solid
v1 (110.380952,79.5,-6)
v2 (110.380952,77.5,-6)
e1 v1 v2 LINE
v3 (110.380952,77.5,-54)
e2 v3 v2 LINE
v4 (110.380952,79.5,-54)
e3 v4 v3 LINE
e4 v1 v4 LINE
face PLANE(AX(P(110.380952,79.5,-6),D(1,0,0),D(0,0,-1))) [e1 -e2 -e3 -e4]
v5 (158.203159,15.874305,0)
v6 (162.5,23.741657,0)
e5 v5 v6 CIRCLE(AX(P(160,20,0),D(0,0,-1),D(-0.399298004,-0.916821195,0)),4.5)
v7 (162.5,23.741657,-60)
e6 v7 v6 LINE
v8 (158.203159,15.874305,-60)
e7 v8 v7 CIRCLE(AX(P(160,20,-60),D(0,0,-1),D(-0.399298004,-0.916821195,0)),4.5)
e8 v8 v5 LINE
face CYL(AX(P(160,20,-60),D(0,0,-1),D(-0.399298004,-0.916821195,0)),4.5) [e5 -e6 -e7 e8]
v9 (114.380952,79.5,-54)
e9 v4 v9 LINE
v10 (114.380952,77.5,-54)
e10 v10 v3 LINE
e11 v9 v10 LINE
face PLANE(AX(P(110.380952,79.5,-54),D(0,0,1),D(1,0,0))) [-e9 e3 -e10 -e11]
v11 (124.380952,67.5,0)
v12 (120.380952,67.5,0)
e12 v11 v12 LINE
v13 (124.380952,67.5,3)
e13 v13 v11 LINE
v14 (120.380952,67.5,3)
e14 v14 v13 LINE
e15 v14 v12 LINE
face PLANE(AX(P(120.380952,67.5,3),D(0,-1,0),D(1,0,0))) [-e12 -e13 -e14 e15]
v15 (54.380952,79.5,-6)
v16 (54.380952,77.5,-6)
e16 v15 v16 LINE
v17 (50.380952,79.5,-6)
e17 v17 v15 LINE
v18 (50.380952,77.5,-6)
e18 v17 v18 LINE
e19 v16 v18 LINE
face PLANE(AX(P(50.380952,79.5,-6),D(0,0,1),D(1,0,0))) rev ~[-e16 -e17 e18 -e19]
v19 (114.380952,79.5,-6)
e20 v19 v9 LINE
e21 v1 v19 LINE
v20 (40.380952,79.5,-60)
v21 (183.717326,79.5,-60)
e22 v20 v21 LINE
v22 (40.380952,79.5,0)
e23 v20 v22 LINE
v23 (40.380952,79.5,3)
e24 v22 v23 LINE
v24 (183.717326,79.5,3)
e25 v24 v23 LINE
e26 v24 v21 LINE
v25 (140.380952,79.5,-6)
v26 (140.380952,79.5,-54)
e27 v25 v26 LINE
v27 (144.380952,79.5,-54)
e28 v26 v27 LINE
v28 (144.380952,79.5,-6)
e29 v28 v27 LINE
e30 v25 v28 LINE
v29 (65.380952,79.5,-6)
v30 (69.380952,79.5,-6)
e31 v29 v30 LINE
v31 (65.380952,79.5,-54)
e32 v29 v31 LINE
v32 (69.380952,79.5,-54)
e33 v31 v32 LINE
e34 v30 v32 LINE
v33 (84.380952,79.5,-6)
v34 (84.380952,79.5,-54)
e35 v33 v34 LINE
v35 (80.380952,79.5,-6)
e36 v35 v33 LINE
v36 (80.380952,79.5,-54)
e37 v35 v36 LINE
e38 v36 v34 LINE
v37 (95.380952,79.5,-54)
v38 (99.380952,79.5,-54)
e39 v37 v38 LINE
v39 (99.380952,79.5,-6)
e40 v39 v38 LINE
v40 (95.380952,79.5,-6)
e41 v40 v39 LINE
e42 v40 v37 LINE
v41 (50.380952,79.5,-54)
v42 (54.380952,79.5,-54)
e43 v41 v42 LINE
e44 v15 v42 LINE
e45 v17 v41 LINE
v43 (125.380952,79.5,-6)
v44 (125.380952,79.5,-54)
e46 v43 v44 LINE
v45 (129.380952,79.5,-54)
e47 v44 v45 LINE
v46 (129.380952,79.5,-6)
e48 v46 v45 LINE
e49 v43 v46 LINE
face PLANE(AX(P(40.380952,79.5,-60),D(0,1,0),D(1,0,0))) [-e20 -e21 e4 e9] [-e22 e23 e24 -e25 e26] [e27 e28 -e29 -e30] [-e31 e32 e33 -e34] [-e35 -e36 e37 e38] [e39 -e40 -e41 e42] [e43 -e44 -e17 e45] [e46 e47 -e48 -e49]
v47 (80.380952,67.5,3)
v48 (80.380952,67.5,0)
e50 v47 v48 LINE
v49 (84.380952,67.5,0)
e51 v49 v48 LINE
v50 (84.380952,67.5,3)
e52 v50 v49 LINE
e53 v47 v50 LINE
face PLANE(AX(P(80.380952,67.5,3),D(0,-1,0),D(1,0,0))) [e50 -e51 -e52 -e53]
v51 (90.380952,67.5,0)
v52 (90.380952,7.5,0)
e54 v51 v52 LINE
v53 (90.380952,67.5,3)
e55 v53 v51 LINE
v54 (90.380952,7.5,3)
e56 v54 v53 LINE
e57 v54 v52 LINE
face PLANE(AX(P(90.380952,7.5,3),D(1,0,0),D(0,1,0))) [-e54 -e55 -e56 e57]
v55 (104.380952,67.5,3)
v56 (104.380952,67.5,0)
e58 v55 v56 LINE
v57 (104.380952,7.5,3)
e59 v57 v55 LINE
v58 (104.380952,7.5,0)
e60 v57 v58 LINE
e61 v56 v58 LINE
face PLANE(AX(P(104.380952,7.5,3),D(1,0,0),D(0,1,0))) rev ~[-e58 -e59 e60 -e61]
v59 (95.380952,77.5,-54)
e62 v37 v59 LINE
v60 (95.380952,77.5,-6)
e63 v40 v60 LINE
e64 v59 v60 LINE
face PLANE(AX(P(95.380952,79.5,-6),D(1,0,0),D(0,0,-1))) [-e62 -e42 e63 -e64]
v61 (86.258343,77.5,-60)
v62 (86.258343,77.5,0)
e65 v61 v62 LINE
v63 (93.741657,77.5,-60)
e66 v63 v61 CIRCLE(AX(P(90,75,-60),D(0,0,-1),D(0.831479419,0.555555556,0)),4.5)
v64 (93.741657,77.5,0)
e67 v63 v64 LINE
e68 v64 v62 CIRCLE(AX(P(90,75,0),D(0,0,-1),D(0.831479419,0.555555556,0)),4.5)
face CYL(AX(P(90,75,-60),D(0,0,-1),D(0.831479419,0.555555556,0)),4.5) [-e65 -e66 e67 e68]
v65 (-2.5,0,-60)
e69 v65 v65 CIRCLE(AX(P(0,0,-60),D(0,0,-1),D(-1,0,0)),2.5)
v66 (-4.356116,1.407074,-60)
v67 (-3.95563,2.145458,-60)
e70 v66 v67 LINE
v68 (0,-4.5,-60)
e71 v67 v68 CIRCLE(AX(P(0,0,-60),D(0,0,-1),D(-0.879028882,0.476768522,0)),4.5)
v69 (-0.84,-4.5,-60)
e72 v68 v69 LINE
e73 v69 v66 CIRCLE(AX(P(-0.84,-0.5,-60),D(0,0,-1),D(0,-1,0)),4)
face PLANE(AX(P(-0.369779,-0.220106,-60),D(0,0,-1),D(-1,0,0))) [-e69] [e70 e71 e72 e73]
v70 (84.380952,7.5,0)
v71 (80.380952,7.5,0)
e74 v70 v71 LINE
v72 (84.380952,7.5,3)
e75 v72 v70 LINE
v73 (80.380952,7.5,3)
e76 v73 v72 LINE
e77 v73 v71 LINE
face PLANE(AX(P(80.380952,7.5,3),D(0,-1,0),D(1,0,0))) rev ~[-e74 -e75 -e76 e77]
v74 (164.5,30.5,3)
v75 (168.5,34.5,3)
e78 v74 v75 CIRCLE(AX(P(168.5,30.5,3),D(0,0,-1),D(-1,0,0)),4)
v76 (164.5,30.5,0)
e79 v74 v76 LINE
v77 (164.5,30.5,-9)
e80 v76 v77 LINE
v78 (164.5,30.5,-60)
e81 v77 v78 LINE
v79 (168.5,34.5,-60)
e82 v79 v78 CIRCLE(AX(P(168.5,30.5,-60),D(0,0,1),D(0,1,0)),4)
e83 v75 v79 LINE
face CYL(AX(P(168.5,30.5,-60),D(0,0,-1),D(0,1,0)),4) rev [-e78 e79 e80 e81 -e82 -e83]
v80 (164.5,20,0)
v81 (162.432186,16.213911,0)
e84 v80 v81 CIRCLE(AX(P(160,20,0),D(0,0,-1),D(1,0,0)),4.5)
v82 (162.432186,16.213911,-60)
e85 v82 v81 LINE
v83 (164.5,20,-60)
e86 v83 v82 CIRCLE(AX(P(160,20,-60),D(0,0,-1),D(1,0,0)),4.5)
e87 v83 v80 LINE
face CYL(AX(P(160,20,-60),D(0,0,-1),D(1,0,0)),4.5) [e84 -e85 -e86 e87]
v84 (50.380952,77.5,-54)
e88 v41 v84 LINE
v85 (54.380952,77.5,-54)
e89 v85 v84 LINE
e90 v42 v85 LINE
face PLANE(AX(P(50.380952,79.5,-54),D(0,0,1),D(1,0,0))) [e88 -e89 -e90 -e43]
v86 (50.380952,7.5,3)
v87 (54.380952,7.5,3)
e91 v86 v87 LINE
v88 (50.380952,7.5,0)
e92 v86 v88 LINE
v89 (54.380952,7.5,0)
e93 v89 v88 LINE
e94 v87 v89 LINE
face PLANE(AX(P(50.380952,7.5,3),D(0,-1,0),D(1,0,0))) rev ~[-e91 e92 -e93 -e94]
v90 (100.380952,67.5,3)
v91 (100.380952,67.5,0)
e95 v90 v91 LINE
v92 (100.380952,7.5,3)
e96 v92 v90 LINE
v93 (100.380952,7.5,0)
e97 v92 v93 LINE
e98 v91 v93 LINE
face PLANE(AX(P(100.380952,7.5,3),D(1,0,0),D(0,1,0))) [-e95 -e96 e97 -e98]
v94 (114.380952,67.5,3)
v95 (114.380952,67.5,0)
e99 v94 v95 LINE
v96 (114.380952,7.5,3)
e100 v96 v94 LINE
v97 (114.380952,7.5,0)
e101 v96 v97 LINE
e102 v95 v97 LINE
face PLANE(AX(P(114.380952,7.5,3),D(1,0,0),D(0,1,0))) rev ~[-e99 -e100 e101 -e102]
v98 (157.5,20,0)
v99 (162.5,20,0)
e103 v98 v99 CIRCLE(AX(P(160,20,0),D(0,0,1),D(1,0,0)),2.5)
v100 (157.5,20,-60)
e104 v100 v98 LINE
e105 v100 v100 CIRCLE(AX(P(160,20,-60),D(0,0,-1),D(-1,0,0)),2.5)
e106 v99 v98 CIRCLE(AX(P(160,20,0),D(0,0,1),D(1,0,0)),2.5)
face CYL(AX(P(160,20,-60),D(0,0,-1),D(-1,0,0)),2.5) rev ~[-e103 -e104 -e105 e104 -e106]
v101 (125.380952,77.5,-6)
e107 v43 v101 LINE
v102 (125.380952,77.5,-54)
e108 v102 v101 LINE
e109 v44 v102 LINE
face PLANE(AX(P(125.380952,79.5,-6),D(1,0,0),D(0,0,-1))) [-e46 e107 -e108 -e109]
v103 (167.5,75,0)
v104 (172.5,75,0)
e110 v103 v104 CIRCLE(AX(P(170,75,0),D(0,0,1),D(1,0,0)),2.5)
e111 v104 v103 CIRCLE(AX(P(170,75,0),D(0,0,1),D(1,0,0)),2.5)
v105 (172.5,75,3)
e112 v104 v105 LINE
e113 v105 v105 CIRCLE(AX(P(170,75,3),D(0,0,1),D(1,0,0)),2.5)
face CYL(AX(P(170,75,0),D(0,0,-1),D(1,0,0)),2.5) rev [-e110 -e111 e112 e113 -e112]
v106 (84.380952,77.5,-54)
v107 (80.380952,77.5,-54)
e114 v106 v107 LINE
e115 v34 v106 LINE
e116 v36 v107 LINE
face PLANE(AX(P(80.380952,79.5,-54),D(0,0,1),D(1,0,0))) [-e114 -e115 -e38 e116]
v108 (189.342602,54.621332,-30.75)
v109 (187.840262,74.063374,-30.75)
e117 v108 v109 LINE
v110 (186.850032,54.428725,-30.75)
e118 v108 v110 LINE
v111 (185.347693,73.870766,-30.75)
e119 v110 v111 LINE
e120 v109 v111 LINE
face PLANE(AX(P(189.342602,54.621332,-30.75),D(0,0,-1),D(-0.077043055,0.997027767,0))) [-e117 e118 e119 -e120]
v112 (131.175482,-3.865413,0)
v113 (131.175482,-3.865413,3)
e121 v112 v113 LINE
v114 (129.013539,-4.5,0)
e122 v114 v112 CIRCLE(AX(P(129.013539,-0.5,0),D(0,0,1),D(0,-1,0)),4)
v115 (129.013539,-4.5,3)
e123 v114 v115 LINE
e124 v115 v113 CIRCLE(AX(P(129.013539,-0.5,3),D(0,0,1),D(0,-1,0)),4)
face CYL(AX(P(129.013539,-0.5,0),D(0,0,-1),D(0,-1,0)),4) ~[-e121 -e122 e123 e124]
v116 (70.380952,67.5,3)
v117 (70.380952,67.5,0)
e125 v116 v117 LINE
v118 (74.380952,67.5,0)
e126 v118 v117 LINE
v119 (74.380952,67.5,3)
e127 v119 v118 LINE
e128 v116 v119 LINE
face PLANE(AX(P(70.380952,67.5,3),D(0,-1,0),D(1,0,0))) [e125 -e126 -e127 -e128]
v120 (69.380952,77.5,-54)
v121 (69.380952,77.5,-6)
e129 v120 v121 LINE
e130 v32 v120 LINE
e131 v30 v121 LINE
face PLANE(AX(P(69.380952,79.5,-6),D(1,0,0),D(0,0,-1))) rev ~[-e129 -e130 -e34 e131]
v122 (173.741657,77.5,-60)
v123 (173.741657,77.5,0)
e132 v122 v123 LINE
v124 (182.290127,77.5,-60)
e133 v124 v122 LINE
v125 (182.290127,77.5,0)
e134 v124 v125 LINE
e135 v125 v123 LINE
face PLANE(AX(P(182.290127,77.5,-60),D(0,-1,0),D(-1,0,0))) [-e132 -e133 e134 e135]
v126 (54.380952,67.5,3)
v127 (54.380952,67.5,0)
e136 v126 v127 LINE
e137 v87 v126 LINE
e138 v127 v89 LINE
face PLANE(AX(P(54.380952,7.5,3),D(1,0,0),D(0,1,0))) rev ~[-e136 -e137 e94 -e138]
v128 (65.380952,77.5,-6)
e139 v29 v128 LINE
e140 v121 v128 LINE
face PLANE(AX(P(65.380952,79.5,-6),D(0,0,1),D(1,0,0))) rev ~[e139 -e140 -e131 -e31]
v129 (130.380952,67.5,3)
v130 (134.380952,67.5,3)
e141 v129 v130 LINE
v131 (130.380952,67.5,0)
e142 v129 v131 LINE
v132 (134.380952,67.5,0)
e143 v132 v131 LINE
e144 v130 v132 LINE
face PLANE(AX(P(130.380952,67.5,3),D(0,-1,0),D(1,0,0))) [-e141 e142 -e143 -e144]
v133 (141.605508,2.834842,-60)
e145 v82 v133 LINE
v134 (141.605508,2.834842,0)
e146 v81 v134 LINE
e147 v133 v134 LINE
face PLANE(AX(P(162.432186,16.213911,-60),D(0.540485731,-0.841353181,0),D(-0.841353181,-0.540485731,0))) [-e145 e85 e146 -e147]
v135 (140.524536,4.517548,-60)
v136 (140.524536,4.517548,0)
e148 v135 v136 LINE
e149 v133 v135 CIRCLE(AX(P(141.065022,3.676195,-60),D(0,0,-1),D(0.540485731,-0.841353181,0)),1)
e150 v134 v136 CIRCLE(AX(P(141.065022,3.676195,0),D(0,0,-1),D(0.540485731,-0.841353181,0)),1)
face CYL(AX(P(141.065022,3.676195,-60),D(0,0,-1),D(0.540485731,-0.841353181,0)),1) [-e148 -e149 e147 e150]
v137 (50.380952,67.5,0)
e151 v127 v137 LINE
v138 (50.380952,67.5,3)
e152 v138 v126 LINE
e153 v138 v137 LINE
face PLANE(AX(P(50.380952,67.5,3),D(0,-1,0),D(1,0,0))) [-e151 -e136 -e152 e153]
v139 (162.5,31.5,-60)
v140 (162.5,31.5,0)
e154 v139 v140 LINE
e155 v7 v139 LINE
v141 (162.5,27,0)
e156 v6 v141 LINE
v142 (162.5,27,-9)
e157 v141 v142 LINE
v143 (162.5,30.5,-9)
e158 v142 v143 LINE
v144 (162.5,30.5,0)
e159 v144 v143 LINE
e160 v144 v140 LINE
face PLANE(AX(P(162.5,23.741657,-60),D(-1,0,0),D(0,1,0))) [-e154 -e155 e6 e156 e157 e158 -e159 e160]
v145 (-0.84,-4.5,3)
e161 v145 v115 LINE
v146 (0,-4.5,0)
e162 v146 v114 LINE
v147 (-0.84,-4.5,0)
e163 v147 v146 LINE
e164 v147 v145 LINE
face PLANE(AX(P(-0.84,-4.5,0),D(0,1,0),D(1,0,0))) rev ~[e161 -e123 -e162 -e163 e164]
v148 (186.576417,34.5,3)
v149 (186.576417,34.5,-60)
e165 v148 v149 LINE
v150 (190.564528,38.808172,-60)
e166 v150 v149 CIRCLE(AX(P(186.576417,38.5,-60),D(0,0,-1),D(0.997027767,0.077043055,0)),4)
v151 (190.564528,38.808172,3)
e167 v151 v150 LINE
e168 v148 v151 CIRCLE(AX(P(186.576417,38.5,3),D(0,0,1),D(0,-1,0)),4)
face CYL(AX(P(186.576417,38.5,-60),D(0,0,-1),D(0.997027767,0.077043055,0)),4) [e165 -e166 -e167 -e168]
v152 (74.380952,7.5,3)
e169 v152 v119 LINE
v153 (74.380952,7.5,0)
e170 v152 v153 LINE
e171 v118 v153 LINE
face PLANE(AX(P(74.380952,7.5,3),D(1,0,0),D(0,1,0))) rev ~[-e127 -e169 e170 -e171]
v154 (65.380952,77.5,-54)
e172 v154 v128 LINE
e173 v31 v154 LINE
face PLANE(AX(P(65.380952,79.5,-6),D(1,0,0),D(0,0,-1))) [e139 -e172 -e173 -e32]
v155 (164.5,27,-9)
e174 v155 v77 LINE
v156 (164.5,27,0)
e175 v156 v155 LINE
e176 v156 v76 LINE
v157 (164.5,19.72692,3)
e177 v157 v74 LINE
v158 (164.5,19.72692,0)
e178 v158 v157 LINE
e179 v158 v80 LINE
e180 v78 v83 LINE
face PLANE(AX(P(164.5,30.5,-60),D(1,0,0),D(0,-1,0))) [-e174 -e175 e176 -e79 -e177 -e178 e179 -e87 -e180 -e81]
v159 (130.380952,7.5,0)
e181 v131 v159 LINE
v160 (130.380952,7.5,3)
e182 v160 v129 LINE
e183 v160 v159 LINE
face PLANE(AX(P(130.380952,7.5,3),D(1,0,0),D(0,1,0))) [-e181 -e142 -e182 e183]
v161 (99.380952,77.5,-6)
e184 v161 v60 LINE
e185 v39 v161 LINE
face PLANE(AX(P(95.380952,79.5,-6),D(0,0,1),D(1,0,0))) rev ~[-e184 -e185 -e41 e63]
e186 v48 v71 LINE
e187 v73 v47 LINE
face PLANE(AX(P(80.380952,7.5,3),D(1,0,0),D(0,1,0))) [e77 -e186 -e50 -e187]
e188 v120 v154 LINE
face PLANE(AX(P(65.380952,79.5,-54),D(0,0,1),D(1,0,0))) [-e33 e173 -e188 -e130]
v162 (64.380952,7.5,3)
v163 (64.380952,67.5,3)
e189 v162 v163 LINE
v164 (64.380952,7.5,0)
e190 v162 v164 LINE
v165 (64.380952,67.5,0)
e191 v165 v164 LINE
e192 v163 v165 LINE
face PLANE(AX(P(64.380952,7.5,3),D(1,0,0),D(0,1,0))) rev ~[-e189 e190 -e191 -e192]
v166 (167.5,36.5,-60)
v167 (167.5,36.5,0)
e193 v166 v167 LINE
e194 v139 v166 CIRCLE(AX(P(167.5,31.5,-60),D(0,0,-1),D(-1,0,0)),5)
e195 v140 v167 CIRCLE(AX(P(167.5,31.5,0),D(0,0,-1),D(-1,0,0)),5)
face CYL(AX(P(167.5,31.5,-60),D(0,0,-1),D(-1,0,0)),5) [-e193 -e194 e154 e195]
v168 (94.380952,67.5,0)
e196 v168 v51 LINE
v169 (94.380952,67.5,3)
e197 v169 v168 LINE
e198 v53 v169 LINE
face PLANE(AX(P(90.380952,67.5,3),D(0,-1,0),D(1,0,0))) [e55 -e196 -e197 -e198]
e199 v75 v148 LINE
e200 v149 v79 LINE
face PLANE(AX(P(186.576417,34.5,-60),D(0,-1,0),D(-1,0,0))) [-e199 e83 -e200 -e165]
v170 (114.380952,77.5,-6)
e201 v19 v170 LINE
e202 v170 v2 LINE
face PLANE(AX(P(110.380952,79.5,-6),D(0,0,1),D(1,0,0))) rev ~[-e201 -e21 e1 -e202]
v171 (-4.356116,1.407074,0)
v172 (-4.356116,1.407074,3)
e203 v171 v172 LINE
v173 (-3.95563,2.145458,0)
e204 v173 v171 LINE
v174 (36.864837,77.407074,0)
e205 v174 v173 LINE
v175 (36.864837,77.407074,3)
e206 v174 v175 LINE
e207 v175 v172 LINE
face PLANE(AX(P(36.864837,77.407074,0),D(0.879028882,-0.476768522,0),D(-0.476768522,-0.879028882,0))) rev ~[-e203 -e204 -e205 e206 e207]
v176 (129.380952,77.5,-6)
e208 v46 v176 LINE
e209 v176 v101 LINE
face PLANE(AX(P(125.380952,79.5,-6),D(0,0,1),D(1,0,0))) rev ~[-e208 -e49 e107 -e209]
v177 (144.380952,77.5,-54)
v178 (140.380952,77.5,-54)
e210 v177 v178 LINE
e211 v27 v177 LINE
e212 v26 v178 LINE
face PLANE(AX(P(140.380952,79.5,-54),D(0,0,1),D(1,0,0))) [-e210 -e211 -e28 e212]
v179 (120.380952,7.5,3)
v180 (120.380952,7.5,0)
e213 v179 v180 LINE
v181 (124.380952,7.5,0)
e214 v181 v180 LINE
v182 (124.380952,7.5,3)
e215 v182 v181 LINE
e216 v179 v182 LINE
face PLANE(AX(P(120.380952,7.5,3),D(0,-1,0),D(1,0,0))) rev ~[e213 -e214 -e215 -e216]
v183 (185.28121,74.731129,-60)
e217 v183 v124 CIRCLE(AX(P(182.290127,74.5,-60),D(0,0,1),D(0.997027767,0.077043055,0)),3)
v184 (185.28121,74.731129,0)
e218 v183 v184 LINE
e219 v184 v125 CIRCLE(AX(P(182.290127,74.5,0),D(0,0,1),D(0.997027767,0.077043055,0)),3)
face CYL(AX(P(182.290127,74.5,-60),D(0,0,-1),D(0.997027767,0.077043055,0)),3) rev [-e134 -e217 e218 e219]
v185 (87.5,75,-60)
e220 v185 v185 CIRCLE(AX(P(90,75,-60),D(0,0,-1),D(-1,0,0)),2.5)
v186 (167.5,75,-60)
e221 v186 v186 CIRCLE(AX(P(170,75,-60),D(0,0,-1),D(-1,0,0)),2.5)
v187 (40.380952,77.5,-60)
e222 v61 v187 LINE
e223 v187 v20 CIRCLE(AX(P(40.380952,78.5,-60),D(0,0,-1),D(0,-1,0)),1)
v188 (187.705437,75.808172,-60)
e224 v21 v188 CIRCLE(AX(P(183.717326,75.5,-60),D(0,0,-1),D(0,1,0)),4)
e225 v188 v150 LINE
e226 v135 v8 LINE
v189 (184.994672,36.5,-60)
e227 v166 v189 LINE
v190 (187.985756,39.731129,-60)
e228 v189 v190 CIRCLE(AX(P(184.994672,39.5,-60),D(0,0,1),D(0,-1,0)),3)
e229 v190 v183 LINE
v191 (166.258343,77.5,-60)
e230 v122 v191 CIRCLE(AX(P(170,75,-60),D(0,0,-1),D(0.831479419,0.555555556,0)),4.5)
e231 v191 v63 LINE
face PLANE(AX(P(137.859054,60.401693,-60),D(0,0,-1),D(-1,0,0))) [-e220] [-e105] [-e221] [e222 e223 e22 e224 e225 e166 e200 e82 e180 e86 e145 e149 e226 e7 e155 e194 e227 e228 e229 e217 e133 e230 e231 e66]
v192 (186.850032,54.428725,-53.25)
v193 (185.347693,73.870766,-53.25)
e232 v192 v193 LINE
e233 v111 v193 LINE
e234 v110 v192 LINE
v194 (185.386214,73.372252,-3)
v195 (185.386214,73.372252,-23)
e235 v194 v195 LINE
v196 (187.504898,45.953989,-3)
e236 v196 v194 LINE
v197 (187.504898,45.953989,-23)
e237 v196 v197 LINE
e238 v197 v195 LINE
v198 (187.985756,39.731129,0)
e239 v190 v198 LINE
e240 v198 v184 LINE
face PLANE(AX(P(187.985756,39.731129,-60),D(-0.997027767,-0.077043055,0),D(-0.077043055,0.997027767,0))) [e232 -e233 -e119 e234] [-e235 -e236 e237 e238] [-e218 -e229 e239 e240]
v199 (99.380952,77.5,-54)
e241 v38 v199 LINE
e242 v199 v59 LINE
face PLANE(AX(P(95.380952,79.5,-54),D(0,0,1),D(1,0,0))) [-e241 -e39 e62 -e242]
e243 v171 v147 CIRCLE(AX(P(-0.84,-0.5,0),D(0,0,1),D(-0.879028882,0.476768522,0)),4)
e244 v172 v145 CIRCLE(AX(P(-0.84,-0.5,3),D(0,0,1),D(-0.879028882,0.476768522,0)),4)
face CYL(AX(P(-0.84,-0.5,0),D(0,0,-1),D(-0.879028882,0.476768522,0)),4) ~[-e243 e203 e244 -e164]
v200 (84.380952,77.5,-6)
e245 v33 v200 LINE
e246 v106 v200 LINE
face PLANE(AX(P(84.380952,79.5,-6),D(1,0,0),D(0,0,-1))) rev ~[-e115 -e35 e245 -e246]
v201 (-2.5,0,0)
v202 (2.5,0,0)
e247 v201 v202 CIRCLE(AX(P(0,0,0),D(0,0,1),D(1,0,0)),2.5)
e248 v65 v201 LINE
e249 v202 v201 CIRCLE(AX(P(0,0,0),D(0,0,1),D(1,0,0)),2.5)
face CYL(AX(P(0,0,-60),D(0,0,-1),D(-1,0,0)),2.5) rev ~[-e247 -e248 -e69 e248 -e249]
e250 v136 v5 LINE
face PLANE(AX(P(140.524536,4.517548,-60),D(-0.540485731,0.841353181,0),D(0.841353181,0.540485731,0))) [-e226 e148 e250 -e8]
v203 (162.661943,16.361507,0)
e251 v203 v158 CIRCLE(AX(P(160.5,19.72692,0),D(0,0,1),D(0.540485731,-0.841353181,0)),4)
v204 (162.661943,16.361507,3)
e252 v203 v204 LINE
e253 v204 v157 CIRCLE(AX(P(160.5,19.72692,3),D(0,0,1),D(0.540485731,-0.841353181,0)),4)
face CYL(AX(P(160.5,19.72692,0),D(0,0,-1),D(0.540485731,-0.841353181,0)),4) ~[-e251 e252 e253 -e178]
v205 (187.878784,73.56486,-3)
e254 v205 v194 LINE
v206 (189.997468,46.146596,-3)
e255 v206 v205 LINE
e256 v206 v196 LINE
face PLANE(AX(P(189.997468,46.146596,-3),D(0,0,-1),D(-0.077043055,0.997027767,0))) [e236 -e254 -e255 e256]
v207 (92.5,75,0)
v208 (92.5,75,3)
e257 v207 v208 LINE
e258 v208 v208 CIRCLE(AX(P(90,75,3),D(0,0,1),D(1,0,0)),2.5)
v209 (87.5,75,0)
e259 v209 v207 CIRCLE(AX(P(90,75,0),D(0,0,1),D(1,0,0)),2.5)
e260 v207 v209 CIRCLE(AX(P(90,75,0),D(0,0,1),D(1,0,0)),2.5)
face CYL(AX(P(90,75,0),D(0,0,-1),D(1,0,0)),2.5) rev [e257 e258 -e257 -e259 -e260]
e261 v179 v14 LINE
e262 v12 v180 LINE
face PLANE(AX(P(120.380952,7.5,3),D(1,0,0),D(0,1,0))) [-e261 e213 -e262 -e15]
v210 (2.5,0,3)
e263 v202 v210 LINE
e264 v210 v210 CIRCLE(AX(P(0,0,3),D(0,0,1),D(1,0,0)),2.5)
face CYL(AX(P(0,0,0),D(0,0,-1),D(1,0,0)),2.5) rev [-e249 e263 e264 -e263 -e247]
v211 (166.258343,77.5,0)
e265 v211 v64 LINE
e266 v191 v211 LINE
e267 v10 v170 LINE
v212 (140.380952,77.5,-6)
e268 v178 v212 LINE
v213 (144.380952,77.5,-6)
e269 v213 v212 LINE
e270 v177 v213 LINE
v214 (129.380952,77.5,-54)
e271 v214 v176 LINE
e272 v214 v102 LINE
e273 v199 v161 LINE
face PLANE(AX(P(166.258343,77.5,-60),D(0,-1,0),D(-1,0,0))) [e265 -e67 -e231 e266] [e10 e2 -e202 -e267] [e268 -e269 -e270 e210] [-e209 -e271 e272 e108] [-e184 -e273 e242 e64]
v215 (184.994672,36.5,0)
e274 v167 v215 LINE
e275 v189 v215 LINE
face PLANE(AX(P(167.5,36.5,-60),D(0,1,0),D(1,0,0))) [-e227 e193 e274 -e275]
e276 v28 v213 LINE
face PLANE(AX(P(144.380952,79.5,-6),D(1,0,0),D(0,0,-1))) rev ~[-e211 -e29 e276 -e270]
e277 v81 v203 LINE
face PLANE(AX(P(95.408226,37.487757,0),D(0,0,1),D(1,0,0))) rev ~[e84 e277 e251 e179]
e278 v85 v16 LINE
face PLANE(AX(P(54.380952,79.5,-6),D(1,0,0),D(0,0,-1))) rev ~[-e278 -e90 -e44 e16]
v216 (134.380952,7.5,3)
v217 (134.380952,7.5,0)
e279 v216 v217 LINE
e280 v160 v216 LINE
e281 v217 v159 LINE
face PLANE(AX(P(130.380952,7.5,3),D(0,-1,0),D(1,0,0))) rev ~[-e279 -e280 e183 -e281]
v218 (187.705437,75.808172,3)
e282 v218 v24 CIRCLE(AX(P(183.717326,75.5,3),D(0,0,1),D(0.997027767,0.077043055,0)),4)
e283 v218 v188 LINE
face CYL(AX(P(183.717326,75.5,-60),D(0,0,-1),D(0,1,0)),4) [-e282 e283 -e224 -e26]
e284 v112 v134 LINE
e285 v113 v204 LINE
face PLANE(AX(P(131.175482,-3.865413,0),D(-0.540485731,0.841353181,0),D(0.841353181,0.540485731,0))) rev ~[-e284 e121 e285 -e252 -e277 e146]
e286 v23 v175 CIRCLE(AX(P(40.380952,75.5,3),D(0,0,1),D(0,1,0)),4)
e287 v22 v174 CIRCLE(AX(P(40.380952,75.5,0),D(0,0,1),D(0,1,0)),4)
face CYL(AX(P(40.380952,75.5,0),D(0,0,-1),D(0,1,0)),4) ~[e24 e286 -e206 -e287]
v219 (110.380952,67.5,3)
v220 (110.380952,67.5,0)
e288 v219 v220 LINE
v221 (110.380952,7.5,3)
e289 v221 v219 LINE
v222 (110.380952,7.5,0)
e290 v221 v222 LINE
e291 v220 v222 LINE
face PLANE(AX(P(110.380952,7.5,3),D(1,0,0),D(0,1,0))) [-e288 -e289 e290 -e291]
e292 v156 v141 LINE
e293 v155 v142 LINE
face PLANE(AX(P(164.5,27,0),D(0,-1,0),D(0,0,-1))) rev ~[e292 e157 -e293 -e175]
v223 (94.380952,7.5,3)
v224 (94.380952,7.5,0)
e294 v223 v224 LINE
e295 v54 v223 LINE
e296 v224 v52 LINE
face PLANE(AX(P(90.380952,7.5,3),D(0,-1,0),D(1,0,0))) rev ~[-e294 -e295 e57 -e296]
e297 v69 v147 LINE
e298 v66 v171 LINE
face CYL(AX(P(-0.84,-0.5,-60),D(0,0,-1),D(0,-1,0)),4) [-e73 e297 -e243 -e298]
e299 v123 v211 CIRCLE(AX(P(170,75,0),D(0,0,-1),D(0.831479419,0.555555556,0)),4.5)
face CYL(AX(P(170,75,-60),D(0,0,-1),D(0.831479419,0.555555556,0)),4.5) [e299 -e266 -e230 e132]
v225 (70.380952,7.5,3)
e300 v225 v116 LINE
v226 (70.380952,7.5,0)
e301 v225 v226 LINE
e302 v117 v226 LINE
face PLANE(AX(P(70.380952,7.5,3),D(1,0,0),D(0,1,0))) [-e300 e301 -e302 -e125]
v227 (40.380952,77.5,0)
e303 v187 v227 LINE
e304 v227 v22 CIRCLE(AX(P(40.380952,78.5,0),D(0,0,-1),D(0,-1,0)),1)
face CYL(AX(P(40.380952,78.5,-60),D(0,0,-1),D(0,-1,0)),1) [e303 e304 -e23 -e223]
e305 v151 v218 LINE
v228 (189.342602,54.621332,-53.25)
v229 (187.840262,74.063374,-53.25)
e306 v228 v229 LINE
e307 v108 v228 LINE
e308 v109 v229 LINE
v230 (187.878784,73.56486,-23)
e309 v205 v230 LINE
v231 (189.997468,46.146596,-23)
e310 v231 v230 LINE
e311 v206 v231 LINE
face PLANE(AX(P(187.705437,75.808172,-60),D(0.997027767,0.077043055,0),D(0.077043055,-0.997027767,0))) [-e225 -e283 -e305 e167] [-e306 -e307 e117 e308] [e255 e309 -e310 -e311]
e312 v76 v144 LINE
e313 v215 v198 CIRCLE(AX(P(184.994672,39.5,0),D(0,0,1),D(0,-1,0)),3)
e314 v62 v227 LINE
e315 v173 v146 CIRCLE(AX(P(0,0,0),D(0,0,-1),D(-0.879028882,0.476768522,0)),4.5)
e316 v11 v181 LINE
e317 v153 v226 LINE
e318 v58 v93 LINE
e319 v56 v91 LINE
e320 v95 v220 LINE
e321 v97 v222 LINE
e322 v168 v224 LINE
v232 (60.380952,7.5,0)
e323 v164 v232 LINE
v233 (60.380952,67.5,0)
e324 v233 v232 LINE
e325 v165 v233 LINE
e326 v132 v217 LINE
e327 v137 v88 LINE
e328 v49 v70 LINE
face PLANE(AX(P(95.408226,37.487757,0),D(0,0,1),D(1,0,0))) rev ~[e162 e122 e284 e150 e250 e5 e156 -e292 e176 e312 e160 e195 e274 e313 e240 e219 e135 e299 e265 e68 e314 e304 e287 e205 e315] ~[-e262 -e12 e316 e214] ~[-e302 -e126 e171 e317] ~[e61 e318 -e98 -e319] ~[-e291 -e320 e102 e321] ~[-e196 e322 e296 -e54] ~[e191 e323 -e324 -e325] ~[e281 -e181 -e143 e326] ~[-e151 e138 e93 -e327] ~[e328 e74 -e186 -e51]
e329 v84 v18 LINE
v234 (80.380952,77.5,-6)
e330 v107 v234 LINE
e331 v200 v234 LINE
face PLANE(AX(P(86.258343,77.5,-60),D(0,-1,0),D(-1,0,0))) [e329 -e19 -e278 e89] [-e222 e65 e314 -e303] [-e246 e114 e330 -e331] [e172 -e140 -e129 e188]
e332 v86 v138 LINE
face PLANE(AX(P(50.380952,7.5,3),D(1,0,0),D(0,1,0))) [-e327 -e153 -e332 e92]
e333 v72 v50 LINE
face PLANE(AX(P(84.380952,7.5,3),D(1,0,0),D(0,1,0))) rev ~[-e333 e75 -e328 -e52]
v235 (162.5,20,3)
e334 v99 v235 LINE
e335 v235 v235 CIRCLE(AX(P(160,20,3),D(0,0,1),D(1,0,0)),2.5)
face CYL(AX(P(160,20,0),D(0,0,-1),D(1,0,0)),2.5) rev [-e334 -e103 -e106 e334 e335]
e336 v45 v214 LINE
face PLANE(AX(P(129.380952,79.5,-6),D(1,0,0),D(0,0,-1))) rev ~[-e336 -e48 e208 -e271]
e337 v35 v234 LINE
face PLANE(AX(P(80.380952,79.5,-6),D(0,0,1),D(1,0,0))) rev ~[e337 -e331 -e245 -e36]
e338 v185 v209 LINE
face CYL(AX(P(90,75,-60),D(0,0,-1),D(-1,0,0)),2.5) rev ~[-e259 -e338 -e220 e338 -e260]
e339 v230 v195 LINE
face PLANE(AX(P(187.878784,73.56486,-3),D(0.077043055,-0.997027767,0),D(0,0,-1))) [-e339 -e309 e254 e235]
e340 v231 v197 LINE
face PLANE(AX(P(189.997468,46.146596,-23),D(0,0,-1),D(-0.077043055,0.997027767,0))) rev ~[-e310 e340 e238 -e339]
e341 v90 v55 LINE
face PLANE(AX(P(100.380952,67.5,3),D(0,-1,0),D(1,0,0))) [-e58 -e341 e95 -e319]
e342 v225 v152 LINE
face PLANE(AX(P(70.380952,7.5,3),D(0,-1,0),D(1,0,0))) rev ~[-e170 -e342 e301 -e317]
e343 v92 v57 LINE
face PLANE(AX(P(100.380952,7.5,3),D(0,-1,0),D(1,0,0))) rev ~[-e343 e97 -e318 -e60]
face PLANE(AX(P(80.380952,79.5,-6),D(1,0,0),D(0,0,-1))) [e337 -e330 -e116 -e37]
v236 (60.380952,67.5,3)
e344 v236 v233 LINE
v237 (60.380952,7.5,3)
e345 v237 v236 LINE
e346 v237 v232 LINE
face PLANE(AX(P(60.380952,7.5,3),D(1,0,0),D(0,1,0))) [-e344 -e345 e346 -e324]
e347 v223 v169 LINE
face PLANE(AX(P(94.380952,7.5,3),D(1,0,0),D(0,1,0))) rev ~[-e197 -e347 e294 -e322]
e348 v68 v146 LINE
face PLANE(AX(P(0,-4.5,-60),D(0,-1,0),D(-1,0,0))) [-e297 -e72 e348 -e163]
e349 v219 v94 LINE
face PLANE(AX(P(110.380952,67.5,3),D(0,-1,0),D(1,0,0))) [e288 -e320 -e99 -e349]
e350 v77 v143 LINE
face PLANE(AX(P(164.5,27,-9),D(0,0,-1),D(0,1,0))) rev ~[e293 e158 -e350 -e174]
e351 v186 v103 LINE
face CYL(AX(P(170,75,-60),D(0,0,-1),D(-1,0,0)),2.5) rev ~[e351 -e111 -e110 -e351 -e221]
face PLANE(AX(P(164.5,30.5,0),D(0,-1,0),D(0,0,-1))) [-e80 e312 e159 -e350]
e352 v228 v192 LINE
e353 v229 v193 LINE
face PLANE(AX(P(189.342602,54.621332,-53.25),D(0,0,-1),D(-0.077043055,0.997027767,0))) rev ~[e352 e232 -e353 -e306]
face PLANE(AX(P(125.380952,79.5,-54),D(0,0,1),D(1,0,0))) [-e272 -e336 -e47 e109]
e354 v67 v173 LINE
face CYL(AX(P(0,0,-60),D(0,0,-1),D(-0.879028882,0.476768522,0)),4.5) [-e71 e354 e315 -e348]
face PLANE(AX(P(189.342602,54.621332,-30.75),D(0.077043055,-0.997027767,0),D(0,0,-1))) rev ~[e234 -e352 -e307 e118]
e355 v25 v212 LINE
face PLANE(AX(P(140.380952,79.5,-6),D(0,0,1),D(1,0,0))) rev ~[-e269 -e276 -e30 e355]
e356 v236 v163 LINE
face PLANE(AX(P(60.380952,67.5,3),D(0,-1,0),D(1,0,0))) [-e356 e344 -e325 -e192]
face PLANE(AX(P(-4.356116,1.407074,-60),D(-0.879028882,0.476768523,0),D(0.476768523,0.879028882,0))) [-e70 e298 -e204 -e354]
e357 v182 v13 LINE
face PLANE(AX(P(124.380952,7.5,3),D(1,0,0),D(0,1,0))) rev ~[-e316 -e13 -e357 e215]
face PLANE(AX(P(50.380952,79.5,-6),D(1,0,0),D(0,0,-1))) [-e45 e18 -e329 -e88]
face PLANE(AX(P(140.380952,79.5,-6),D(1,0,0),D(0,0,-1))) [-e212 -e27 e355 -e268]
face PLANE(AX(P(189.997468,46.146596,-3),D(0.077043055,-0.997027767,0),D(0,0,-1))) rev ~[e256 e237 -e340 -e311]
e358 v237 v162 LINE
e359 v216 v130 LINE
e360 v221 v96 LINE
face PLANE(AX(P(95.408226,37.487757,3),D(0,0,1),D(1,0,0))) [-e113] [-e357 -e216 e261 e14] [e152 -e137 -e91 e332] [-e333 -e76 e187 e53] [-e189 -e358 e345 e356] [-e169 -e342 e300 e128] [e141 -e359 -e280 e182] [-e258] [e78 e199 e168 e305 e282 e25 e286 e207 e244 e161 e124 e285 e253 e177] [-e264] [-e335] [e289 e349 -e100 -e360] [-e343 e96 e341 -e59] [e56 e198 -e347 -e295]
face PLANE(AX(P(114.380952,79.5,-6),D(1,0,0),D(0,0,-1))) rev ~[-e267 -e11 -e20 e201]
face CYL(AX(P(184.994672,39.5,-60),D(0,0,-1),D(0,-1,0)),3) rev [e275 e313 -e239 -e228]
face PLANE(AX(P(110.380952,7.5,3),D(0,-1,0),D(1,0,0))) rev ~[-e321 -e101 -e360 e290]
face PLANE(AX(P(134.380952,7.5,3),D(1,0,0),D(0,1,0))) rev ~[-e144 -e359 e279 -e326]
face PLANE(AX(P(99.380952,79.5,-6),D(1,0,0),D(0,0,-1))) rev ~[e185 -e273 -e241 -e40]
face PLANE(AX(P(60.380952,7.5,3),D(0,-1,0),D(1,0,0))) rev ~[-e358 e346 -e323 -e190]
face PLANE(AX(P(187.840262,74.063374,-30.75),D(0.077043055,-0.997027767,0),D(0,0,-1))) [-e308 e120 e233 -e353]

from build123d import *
from build123d.topology import SkipClean

# Parameters (mm, degrees)
SKETCH3_R           = 2.5
BOSS_EXTRUDE5_DEPTH = 3
BOSS_EXTRUDE6_START = 60
SKETCH12_R          = 2.5
BOSS_EXTRUDE6_DEPTH = 60
CUT_EXTRUDE4_REACH  = 218.071
SKETCH13_W          = 22.5
SKETCH13_H          = 19.5
SKETCH13_W_2        = 20
SKETCH13_H_2        = 27.5
CUT_EXTRUDE5_REACH  = 198.459
EARTH_WIRE_W        = 9
EARTH_WIRE_H        = 3.5
CUT_EXTRUDE6_REACH  = 217.89
SKETCH15_W          = 4
SKETCH15_H          = 60
LPATTERN1_COUNT     = 9
LPATTERN1_PITCH     = 10
SKETCH17_W          = 4
SKETCH17_H          = 48
CUT_EXTRUDE8_DEPTH  = 60


with BuildPart() as part:
    # Sketch3 → Boss-Extrude5 (new body)
    with BuildSketch(Plane.XY):
        with BuildLine():
            Line((183.717325824, 79.5), (40.380952381, 79.5))
            ThreePointArc((40.380952381, 79.5), (38.335016942, 78.937171538), (36.864836851, 77.40707409))
            Line((36.864836851, 77.40707409), (-4.35611553, 1.40707409))
            ThreePointArc((-4.35611553, 1.40707409), (-4.277171538, -2.545935439), (-0.84, -4.5))
            Line((-0.84, -4.5), (129.013538649, -4.5))
            ThreePointArc((129.013538649, -4.5), (130.140115123, -4.338075748), (131.175481572, -3.865412723))
            Line((131.175481572, -3.865412723), (162.661942923, 16.361506792))
            ThreePointArc((162.661942923, 16.361506792), (164.010539253, 17.809599992), (164.5, 19.726919515))
            Line((164.5, 19.726919515), (164.5, 30.5))
            ThreePointArc((164.5, 30.5), (165.671572875, 33.328427125), (168.5, 34.5))
            Line((168.5, 34.5), (186.576416733, 34.5))
            ThreePointArc((186.576416733, 34.5), (189.511777773, 35.782711726), (190.5645278, 38.808172219))
            Line((190.5645278, 38.808172219), (187.705436891, 75.808172219))
            ThreePointArc((187.705436891, 75.808172219), (186.434614098, 78.43536104), (183.717325824, 79.5))
        make_face()
        Circle(SKETCH3_R, mode=Mode.SUBTRACT)
        with Locations((90, 75)):
            Circle(SKETCH3_R, mode=Mode.SUBTRACT)
        with Locations((170, 75)):
            Circle(SKETCH3_R, mode=Mode.SUBTRACT)
        with Locations((160, 20)):
            Circle(SKETCH3_R, mode=Mode.SUBTRACT)
    extrude(amount=BOSS_EXTRUDE5_DEPTH)

    # Sketch12 → Boss-Extrude6 (add)
    # profile 1 of 2: a face of its own
    with SkipClean():  # the faces are left unmerged after this step: merging them gives an invalid solid
        with BuildSketch(Plane(origin=(0, 0, 0), x_dir=(-1, 0, 0), z_dir=(0, 0, -1)).offset(BOSS_EXTRUDE6_START)):
            with BuildLine():
                Line((-86.258342613, 77.5), (-40.380952381, 77.5))
                ThreePointArc((-40.380952381, 77.5), (-39.380952381, 78.5), (-40.380952381, 79.5))
                Line((-40.380952381, 79.5), (-183.717325824, 79.5))
                ThreePointArc((-183.717325824, 79.5), (-186.434614098, 78.43536104), (-187.705436891, 75.808172219))
                Line((-187.705436891, 75.808172219), (-190.5645278, 38.808172219))
                ThreePointArc((-190.5645278, 38.808172219), (-189.511777773, 35.782711726), (-186.576416733, 34.5))
                Line((-186.576416733, 34.5), (-168.5, 34.5))
                ThreePointArc((-168.5, 34.5), (-165.671572875, 33.328427125), (-164.5, 30.5))
                Line((-164.5, 30.5), (-164.5, 20))
                ThreePointArc((-164.5, 20), (-163.949356659, 17.843015536), (-162.432185788, 16.213910686))
                Line((-162.432185788, 16.213910686), (-141.605507863, 2.834841713))
                ThreePointArc((-141.605507863, 2.834841713), (-140.223668952, 3.135709163), (-140.524536402, 4.517548074))
                Line((-140.524536402, 4.517548074), (-158.203158983, 15.874304621))
                ThreePointArc((-158.203158983, 15.874304621), (-156.050643341, 22.156984464), (-162.5, 23.741657387))
                Line((-162.5, 23.741657387), (-162.5, 31.5))
                ThreePointArc((-162.5, 31.5), (-163.964466094, 35.035533906), (-167.5, 36.5))
                Line((-167.5, 36.5), (-184.994672365, 36.5))
                ThreePointArc((-184.994672365, 36.5), (-187.196193145, 37.462033795), (-187.985755665, 39.731129164))
                Line((-187.985755665, 39.731129164), (-185.281210211, 74.731129164))
                ThreePointArc((-185.281210211, 74.731129164), (-184.328093116, 76.70152078), (-182.290126911, 77.5))
                Line((-182.290126911, 77.5), (-173.741657387, 77.5))
                ThreePointArc((-173.741657387, 77.5), (-170, 70.5), (-166.258342613, 77.5))
                Line((-166.258342613, 77.5), (-93.741657387, 77.5))
                ThreePointArc((-93.741657387, 77.5), (-90, 70.5), (-86.258342613, 77.5))
            make_face()
            with Locations((-90, 75)):
                Circle(SKETCH12_R, mode=Mode.SUBTRACT)
            with Locations((-170, 75)):
                Circle(SKETCH12_R, mode=Mode.SUBTRACT)
            with Locations((-160, 20)):
                Circle(SKETCH12_R, mode=Mode.SUBTRACT)
        # profile 2 of 2: a face of its own
        with BuildSketch(Plane(origin=(0, 0, 0), x_dir=(-1, 0, 0), z_dir=(0, 0, -1)).offset(BOSS_EXTRUDE6_START)):
            with BuildLine():
                Line((4.35611553, 1.40707409), (3.955629971, 2.145458351))
                ThreePointArc((3.955629971, 2.145458351), (-3.86681798, 2.301677369), (0, -4.5))
                Line((0, -4.5), (0.84, -4.5))
                ThreePointArc((0.84, -4.5), (4.277171538, -2.545935439), (4.35611553, 1.40707409))
            make_face()
            Circle(SKETCH12_R, mode=Mode.SUBTRACT)
        extrude(amount=-BOSS_EXTRUDE6_DEPTH)

    # Sketch13 → Cut-Extrude4 (cut, up to next)
    with BuildSketch(Plane(origin=(192.414420292, 14.868387023, 0), x_dir=(0, 0, -1), z_dir=(0.9970277667756612, 0.07704305470539174, 0)), mode=Mode.PRIVATE) as cut_extrude4_sk1:
        with Locations((42, 49.621452408)):
            Rectangle(SKETCH13_W, SKETCH13_H)
    cut_extrude4_tool1 = extrude(cut_extrude4_sk1.sketch, amount=-CUT_EXTRUDE4_REACH, mode=Mode.PRIVATE) & part.part
    # Sketch13 → Cut-Extrude4 (cut, up to next)
    with BuildSketch(Plane(origin=(192.414420292, 14.868387023, 0), x_dir=(0, 0, -1), z_dir=(0.9970277667756612, 0.07704305470539174, 0)), mode=Mode.PRIVATE) as cut_extrude4_sk2:
        with Locations((13, 45.121452408)):
            Rectangle(SKETCH13_W_2, SKETCH13_H_2)
    cut_extrude4_tool2 = extrude(cut_extrude4_sk2.sketch, amount=-CUT_EXTRUDE4_REACH, mode=Mode.PRIVATE) & part.part
    add(cut_extrude4_tool1.solids().sort_by_distance((188.591432, 64.342353, -42))[0], mode=Mode.SUBTRACT)
    add(cut_extrude4_tool2.solids().sort_by_distance((188.938126, 59.855728, -13))[0], mode=Mode.SUBTRACT)

    # Earth wire → Cut-Extrude5 (cut, up to next)
    with BuildSketch(Plane(origin=(164.5, 0, 0), x_dir=(0, 0, -1), z_dir=(1, 0, 0)), mode=Mode.PRIVATE) as cut_extrude5_sk1:
        with Locations((4.5, 28.75)):
            Rectangle(EARTH_WIRE_W, EARTH_WIRE_H)
    cut_extrude5_tool1 = extrude(cut_extrude5_sk1.sketch, amount=-CUT_EXTRUDE5_REACH, mode=Mode.PRIVATE) & part.part
    add(cut_extrude5_tool1.solids().sort_by_distance((164.5, 28.75, -4.5))[0], mode=Mode.SUBTRACT)

    # Sketch15 → Cut-Extrude6 (cut, up to next)
    with BuildSketch(Plane.XY.offset(3), mode=Mode.PRIVATE) as cut_extrude6_sk1:
        with Locations((52.380952381, 37.5)):
            Rectangle(SKETCH15_W, SKETCH15_H)
    cut_extrude6_tool1 = extrude(cut_extrude6_sk1.sketch, amount=-CUT_EXTRUDE6_REACH, mode=Mode.PRIVATE) & part.part
    cut_extrude6 = cut_extrude6_tool1.solids().sort_by_distance((52.380952, 37.5, 3))[0]
    add(cut_extrude6, mode=Mode.SUBTRACT)

    # LPattern1: Cut-Extrude6 ×9
    with SkipClean():  # the faces are left unmerged after this step: merging them gives an invalid solid
        with Locations(*[(i * LPATTERN1_PITCH, 0, 0) for i in range(1, LPATTERN1_COUNT)]):
            add(cut_extrude6, mode=Mode.SUBTRACT)

    # Sketch17 → Cut-Extrude8 (cut)
    with SkipClean():  # the faces are left unmerged after this step: merging them gives an invalid solid
        with BuildSketch(Plane(origin=(0, 79.5, 0), x_dir=(1, 0, 0), z_dir=(0, 1, 0))):
            with Locations((52.380952381, 30)):
                Rectangle(SKETCH17_W, SKETCH17_H)
            with Locations((67.380952381, 30)):
                Rectangle(SKETCH17_W, SKETCH17_H)
            with Locations((82.380952381, 30)):
                Rectangle(SKETCH17_W, SKETCH17_H)
            with Locations((97.380952381, 30)):
                Rectangle(SKETCH17_W, SKETCH17_H)
            with Locations((112.380952381, 30)):
                Rectangle(SKETCH17_W, SKETCH17_H)
            with Locations((127.380952381, 30)):
                Rectangle(SKETCH17_W, SKETCH17_H)
            with Locations((142.380952381, 30)):
                Rectangle(SKETCH17_W, SKETCH17_H)
        extrude(amount=-CUT_EXTRUDE8_DEPTH, mode=Mode.SUBTRACT)


solid = part.part
